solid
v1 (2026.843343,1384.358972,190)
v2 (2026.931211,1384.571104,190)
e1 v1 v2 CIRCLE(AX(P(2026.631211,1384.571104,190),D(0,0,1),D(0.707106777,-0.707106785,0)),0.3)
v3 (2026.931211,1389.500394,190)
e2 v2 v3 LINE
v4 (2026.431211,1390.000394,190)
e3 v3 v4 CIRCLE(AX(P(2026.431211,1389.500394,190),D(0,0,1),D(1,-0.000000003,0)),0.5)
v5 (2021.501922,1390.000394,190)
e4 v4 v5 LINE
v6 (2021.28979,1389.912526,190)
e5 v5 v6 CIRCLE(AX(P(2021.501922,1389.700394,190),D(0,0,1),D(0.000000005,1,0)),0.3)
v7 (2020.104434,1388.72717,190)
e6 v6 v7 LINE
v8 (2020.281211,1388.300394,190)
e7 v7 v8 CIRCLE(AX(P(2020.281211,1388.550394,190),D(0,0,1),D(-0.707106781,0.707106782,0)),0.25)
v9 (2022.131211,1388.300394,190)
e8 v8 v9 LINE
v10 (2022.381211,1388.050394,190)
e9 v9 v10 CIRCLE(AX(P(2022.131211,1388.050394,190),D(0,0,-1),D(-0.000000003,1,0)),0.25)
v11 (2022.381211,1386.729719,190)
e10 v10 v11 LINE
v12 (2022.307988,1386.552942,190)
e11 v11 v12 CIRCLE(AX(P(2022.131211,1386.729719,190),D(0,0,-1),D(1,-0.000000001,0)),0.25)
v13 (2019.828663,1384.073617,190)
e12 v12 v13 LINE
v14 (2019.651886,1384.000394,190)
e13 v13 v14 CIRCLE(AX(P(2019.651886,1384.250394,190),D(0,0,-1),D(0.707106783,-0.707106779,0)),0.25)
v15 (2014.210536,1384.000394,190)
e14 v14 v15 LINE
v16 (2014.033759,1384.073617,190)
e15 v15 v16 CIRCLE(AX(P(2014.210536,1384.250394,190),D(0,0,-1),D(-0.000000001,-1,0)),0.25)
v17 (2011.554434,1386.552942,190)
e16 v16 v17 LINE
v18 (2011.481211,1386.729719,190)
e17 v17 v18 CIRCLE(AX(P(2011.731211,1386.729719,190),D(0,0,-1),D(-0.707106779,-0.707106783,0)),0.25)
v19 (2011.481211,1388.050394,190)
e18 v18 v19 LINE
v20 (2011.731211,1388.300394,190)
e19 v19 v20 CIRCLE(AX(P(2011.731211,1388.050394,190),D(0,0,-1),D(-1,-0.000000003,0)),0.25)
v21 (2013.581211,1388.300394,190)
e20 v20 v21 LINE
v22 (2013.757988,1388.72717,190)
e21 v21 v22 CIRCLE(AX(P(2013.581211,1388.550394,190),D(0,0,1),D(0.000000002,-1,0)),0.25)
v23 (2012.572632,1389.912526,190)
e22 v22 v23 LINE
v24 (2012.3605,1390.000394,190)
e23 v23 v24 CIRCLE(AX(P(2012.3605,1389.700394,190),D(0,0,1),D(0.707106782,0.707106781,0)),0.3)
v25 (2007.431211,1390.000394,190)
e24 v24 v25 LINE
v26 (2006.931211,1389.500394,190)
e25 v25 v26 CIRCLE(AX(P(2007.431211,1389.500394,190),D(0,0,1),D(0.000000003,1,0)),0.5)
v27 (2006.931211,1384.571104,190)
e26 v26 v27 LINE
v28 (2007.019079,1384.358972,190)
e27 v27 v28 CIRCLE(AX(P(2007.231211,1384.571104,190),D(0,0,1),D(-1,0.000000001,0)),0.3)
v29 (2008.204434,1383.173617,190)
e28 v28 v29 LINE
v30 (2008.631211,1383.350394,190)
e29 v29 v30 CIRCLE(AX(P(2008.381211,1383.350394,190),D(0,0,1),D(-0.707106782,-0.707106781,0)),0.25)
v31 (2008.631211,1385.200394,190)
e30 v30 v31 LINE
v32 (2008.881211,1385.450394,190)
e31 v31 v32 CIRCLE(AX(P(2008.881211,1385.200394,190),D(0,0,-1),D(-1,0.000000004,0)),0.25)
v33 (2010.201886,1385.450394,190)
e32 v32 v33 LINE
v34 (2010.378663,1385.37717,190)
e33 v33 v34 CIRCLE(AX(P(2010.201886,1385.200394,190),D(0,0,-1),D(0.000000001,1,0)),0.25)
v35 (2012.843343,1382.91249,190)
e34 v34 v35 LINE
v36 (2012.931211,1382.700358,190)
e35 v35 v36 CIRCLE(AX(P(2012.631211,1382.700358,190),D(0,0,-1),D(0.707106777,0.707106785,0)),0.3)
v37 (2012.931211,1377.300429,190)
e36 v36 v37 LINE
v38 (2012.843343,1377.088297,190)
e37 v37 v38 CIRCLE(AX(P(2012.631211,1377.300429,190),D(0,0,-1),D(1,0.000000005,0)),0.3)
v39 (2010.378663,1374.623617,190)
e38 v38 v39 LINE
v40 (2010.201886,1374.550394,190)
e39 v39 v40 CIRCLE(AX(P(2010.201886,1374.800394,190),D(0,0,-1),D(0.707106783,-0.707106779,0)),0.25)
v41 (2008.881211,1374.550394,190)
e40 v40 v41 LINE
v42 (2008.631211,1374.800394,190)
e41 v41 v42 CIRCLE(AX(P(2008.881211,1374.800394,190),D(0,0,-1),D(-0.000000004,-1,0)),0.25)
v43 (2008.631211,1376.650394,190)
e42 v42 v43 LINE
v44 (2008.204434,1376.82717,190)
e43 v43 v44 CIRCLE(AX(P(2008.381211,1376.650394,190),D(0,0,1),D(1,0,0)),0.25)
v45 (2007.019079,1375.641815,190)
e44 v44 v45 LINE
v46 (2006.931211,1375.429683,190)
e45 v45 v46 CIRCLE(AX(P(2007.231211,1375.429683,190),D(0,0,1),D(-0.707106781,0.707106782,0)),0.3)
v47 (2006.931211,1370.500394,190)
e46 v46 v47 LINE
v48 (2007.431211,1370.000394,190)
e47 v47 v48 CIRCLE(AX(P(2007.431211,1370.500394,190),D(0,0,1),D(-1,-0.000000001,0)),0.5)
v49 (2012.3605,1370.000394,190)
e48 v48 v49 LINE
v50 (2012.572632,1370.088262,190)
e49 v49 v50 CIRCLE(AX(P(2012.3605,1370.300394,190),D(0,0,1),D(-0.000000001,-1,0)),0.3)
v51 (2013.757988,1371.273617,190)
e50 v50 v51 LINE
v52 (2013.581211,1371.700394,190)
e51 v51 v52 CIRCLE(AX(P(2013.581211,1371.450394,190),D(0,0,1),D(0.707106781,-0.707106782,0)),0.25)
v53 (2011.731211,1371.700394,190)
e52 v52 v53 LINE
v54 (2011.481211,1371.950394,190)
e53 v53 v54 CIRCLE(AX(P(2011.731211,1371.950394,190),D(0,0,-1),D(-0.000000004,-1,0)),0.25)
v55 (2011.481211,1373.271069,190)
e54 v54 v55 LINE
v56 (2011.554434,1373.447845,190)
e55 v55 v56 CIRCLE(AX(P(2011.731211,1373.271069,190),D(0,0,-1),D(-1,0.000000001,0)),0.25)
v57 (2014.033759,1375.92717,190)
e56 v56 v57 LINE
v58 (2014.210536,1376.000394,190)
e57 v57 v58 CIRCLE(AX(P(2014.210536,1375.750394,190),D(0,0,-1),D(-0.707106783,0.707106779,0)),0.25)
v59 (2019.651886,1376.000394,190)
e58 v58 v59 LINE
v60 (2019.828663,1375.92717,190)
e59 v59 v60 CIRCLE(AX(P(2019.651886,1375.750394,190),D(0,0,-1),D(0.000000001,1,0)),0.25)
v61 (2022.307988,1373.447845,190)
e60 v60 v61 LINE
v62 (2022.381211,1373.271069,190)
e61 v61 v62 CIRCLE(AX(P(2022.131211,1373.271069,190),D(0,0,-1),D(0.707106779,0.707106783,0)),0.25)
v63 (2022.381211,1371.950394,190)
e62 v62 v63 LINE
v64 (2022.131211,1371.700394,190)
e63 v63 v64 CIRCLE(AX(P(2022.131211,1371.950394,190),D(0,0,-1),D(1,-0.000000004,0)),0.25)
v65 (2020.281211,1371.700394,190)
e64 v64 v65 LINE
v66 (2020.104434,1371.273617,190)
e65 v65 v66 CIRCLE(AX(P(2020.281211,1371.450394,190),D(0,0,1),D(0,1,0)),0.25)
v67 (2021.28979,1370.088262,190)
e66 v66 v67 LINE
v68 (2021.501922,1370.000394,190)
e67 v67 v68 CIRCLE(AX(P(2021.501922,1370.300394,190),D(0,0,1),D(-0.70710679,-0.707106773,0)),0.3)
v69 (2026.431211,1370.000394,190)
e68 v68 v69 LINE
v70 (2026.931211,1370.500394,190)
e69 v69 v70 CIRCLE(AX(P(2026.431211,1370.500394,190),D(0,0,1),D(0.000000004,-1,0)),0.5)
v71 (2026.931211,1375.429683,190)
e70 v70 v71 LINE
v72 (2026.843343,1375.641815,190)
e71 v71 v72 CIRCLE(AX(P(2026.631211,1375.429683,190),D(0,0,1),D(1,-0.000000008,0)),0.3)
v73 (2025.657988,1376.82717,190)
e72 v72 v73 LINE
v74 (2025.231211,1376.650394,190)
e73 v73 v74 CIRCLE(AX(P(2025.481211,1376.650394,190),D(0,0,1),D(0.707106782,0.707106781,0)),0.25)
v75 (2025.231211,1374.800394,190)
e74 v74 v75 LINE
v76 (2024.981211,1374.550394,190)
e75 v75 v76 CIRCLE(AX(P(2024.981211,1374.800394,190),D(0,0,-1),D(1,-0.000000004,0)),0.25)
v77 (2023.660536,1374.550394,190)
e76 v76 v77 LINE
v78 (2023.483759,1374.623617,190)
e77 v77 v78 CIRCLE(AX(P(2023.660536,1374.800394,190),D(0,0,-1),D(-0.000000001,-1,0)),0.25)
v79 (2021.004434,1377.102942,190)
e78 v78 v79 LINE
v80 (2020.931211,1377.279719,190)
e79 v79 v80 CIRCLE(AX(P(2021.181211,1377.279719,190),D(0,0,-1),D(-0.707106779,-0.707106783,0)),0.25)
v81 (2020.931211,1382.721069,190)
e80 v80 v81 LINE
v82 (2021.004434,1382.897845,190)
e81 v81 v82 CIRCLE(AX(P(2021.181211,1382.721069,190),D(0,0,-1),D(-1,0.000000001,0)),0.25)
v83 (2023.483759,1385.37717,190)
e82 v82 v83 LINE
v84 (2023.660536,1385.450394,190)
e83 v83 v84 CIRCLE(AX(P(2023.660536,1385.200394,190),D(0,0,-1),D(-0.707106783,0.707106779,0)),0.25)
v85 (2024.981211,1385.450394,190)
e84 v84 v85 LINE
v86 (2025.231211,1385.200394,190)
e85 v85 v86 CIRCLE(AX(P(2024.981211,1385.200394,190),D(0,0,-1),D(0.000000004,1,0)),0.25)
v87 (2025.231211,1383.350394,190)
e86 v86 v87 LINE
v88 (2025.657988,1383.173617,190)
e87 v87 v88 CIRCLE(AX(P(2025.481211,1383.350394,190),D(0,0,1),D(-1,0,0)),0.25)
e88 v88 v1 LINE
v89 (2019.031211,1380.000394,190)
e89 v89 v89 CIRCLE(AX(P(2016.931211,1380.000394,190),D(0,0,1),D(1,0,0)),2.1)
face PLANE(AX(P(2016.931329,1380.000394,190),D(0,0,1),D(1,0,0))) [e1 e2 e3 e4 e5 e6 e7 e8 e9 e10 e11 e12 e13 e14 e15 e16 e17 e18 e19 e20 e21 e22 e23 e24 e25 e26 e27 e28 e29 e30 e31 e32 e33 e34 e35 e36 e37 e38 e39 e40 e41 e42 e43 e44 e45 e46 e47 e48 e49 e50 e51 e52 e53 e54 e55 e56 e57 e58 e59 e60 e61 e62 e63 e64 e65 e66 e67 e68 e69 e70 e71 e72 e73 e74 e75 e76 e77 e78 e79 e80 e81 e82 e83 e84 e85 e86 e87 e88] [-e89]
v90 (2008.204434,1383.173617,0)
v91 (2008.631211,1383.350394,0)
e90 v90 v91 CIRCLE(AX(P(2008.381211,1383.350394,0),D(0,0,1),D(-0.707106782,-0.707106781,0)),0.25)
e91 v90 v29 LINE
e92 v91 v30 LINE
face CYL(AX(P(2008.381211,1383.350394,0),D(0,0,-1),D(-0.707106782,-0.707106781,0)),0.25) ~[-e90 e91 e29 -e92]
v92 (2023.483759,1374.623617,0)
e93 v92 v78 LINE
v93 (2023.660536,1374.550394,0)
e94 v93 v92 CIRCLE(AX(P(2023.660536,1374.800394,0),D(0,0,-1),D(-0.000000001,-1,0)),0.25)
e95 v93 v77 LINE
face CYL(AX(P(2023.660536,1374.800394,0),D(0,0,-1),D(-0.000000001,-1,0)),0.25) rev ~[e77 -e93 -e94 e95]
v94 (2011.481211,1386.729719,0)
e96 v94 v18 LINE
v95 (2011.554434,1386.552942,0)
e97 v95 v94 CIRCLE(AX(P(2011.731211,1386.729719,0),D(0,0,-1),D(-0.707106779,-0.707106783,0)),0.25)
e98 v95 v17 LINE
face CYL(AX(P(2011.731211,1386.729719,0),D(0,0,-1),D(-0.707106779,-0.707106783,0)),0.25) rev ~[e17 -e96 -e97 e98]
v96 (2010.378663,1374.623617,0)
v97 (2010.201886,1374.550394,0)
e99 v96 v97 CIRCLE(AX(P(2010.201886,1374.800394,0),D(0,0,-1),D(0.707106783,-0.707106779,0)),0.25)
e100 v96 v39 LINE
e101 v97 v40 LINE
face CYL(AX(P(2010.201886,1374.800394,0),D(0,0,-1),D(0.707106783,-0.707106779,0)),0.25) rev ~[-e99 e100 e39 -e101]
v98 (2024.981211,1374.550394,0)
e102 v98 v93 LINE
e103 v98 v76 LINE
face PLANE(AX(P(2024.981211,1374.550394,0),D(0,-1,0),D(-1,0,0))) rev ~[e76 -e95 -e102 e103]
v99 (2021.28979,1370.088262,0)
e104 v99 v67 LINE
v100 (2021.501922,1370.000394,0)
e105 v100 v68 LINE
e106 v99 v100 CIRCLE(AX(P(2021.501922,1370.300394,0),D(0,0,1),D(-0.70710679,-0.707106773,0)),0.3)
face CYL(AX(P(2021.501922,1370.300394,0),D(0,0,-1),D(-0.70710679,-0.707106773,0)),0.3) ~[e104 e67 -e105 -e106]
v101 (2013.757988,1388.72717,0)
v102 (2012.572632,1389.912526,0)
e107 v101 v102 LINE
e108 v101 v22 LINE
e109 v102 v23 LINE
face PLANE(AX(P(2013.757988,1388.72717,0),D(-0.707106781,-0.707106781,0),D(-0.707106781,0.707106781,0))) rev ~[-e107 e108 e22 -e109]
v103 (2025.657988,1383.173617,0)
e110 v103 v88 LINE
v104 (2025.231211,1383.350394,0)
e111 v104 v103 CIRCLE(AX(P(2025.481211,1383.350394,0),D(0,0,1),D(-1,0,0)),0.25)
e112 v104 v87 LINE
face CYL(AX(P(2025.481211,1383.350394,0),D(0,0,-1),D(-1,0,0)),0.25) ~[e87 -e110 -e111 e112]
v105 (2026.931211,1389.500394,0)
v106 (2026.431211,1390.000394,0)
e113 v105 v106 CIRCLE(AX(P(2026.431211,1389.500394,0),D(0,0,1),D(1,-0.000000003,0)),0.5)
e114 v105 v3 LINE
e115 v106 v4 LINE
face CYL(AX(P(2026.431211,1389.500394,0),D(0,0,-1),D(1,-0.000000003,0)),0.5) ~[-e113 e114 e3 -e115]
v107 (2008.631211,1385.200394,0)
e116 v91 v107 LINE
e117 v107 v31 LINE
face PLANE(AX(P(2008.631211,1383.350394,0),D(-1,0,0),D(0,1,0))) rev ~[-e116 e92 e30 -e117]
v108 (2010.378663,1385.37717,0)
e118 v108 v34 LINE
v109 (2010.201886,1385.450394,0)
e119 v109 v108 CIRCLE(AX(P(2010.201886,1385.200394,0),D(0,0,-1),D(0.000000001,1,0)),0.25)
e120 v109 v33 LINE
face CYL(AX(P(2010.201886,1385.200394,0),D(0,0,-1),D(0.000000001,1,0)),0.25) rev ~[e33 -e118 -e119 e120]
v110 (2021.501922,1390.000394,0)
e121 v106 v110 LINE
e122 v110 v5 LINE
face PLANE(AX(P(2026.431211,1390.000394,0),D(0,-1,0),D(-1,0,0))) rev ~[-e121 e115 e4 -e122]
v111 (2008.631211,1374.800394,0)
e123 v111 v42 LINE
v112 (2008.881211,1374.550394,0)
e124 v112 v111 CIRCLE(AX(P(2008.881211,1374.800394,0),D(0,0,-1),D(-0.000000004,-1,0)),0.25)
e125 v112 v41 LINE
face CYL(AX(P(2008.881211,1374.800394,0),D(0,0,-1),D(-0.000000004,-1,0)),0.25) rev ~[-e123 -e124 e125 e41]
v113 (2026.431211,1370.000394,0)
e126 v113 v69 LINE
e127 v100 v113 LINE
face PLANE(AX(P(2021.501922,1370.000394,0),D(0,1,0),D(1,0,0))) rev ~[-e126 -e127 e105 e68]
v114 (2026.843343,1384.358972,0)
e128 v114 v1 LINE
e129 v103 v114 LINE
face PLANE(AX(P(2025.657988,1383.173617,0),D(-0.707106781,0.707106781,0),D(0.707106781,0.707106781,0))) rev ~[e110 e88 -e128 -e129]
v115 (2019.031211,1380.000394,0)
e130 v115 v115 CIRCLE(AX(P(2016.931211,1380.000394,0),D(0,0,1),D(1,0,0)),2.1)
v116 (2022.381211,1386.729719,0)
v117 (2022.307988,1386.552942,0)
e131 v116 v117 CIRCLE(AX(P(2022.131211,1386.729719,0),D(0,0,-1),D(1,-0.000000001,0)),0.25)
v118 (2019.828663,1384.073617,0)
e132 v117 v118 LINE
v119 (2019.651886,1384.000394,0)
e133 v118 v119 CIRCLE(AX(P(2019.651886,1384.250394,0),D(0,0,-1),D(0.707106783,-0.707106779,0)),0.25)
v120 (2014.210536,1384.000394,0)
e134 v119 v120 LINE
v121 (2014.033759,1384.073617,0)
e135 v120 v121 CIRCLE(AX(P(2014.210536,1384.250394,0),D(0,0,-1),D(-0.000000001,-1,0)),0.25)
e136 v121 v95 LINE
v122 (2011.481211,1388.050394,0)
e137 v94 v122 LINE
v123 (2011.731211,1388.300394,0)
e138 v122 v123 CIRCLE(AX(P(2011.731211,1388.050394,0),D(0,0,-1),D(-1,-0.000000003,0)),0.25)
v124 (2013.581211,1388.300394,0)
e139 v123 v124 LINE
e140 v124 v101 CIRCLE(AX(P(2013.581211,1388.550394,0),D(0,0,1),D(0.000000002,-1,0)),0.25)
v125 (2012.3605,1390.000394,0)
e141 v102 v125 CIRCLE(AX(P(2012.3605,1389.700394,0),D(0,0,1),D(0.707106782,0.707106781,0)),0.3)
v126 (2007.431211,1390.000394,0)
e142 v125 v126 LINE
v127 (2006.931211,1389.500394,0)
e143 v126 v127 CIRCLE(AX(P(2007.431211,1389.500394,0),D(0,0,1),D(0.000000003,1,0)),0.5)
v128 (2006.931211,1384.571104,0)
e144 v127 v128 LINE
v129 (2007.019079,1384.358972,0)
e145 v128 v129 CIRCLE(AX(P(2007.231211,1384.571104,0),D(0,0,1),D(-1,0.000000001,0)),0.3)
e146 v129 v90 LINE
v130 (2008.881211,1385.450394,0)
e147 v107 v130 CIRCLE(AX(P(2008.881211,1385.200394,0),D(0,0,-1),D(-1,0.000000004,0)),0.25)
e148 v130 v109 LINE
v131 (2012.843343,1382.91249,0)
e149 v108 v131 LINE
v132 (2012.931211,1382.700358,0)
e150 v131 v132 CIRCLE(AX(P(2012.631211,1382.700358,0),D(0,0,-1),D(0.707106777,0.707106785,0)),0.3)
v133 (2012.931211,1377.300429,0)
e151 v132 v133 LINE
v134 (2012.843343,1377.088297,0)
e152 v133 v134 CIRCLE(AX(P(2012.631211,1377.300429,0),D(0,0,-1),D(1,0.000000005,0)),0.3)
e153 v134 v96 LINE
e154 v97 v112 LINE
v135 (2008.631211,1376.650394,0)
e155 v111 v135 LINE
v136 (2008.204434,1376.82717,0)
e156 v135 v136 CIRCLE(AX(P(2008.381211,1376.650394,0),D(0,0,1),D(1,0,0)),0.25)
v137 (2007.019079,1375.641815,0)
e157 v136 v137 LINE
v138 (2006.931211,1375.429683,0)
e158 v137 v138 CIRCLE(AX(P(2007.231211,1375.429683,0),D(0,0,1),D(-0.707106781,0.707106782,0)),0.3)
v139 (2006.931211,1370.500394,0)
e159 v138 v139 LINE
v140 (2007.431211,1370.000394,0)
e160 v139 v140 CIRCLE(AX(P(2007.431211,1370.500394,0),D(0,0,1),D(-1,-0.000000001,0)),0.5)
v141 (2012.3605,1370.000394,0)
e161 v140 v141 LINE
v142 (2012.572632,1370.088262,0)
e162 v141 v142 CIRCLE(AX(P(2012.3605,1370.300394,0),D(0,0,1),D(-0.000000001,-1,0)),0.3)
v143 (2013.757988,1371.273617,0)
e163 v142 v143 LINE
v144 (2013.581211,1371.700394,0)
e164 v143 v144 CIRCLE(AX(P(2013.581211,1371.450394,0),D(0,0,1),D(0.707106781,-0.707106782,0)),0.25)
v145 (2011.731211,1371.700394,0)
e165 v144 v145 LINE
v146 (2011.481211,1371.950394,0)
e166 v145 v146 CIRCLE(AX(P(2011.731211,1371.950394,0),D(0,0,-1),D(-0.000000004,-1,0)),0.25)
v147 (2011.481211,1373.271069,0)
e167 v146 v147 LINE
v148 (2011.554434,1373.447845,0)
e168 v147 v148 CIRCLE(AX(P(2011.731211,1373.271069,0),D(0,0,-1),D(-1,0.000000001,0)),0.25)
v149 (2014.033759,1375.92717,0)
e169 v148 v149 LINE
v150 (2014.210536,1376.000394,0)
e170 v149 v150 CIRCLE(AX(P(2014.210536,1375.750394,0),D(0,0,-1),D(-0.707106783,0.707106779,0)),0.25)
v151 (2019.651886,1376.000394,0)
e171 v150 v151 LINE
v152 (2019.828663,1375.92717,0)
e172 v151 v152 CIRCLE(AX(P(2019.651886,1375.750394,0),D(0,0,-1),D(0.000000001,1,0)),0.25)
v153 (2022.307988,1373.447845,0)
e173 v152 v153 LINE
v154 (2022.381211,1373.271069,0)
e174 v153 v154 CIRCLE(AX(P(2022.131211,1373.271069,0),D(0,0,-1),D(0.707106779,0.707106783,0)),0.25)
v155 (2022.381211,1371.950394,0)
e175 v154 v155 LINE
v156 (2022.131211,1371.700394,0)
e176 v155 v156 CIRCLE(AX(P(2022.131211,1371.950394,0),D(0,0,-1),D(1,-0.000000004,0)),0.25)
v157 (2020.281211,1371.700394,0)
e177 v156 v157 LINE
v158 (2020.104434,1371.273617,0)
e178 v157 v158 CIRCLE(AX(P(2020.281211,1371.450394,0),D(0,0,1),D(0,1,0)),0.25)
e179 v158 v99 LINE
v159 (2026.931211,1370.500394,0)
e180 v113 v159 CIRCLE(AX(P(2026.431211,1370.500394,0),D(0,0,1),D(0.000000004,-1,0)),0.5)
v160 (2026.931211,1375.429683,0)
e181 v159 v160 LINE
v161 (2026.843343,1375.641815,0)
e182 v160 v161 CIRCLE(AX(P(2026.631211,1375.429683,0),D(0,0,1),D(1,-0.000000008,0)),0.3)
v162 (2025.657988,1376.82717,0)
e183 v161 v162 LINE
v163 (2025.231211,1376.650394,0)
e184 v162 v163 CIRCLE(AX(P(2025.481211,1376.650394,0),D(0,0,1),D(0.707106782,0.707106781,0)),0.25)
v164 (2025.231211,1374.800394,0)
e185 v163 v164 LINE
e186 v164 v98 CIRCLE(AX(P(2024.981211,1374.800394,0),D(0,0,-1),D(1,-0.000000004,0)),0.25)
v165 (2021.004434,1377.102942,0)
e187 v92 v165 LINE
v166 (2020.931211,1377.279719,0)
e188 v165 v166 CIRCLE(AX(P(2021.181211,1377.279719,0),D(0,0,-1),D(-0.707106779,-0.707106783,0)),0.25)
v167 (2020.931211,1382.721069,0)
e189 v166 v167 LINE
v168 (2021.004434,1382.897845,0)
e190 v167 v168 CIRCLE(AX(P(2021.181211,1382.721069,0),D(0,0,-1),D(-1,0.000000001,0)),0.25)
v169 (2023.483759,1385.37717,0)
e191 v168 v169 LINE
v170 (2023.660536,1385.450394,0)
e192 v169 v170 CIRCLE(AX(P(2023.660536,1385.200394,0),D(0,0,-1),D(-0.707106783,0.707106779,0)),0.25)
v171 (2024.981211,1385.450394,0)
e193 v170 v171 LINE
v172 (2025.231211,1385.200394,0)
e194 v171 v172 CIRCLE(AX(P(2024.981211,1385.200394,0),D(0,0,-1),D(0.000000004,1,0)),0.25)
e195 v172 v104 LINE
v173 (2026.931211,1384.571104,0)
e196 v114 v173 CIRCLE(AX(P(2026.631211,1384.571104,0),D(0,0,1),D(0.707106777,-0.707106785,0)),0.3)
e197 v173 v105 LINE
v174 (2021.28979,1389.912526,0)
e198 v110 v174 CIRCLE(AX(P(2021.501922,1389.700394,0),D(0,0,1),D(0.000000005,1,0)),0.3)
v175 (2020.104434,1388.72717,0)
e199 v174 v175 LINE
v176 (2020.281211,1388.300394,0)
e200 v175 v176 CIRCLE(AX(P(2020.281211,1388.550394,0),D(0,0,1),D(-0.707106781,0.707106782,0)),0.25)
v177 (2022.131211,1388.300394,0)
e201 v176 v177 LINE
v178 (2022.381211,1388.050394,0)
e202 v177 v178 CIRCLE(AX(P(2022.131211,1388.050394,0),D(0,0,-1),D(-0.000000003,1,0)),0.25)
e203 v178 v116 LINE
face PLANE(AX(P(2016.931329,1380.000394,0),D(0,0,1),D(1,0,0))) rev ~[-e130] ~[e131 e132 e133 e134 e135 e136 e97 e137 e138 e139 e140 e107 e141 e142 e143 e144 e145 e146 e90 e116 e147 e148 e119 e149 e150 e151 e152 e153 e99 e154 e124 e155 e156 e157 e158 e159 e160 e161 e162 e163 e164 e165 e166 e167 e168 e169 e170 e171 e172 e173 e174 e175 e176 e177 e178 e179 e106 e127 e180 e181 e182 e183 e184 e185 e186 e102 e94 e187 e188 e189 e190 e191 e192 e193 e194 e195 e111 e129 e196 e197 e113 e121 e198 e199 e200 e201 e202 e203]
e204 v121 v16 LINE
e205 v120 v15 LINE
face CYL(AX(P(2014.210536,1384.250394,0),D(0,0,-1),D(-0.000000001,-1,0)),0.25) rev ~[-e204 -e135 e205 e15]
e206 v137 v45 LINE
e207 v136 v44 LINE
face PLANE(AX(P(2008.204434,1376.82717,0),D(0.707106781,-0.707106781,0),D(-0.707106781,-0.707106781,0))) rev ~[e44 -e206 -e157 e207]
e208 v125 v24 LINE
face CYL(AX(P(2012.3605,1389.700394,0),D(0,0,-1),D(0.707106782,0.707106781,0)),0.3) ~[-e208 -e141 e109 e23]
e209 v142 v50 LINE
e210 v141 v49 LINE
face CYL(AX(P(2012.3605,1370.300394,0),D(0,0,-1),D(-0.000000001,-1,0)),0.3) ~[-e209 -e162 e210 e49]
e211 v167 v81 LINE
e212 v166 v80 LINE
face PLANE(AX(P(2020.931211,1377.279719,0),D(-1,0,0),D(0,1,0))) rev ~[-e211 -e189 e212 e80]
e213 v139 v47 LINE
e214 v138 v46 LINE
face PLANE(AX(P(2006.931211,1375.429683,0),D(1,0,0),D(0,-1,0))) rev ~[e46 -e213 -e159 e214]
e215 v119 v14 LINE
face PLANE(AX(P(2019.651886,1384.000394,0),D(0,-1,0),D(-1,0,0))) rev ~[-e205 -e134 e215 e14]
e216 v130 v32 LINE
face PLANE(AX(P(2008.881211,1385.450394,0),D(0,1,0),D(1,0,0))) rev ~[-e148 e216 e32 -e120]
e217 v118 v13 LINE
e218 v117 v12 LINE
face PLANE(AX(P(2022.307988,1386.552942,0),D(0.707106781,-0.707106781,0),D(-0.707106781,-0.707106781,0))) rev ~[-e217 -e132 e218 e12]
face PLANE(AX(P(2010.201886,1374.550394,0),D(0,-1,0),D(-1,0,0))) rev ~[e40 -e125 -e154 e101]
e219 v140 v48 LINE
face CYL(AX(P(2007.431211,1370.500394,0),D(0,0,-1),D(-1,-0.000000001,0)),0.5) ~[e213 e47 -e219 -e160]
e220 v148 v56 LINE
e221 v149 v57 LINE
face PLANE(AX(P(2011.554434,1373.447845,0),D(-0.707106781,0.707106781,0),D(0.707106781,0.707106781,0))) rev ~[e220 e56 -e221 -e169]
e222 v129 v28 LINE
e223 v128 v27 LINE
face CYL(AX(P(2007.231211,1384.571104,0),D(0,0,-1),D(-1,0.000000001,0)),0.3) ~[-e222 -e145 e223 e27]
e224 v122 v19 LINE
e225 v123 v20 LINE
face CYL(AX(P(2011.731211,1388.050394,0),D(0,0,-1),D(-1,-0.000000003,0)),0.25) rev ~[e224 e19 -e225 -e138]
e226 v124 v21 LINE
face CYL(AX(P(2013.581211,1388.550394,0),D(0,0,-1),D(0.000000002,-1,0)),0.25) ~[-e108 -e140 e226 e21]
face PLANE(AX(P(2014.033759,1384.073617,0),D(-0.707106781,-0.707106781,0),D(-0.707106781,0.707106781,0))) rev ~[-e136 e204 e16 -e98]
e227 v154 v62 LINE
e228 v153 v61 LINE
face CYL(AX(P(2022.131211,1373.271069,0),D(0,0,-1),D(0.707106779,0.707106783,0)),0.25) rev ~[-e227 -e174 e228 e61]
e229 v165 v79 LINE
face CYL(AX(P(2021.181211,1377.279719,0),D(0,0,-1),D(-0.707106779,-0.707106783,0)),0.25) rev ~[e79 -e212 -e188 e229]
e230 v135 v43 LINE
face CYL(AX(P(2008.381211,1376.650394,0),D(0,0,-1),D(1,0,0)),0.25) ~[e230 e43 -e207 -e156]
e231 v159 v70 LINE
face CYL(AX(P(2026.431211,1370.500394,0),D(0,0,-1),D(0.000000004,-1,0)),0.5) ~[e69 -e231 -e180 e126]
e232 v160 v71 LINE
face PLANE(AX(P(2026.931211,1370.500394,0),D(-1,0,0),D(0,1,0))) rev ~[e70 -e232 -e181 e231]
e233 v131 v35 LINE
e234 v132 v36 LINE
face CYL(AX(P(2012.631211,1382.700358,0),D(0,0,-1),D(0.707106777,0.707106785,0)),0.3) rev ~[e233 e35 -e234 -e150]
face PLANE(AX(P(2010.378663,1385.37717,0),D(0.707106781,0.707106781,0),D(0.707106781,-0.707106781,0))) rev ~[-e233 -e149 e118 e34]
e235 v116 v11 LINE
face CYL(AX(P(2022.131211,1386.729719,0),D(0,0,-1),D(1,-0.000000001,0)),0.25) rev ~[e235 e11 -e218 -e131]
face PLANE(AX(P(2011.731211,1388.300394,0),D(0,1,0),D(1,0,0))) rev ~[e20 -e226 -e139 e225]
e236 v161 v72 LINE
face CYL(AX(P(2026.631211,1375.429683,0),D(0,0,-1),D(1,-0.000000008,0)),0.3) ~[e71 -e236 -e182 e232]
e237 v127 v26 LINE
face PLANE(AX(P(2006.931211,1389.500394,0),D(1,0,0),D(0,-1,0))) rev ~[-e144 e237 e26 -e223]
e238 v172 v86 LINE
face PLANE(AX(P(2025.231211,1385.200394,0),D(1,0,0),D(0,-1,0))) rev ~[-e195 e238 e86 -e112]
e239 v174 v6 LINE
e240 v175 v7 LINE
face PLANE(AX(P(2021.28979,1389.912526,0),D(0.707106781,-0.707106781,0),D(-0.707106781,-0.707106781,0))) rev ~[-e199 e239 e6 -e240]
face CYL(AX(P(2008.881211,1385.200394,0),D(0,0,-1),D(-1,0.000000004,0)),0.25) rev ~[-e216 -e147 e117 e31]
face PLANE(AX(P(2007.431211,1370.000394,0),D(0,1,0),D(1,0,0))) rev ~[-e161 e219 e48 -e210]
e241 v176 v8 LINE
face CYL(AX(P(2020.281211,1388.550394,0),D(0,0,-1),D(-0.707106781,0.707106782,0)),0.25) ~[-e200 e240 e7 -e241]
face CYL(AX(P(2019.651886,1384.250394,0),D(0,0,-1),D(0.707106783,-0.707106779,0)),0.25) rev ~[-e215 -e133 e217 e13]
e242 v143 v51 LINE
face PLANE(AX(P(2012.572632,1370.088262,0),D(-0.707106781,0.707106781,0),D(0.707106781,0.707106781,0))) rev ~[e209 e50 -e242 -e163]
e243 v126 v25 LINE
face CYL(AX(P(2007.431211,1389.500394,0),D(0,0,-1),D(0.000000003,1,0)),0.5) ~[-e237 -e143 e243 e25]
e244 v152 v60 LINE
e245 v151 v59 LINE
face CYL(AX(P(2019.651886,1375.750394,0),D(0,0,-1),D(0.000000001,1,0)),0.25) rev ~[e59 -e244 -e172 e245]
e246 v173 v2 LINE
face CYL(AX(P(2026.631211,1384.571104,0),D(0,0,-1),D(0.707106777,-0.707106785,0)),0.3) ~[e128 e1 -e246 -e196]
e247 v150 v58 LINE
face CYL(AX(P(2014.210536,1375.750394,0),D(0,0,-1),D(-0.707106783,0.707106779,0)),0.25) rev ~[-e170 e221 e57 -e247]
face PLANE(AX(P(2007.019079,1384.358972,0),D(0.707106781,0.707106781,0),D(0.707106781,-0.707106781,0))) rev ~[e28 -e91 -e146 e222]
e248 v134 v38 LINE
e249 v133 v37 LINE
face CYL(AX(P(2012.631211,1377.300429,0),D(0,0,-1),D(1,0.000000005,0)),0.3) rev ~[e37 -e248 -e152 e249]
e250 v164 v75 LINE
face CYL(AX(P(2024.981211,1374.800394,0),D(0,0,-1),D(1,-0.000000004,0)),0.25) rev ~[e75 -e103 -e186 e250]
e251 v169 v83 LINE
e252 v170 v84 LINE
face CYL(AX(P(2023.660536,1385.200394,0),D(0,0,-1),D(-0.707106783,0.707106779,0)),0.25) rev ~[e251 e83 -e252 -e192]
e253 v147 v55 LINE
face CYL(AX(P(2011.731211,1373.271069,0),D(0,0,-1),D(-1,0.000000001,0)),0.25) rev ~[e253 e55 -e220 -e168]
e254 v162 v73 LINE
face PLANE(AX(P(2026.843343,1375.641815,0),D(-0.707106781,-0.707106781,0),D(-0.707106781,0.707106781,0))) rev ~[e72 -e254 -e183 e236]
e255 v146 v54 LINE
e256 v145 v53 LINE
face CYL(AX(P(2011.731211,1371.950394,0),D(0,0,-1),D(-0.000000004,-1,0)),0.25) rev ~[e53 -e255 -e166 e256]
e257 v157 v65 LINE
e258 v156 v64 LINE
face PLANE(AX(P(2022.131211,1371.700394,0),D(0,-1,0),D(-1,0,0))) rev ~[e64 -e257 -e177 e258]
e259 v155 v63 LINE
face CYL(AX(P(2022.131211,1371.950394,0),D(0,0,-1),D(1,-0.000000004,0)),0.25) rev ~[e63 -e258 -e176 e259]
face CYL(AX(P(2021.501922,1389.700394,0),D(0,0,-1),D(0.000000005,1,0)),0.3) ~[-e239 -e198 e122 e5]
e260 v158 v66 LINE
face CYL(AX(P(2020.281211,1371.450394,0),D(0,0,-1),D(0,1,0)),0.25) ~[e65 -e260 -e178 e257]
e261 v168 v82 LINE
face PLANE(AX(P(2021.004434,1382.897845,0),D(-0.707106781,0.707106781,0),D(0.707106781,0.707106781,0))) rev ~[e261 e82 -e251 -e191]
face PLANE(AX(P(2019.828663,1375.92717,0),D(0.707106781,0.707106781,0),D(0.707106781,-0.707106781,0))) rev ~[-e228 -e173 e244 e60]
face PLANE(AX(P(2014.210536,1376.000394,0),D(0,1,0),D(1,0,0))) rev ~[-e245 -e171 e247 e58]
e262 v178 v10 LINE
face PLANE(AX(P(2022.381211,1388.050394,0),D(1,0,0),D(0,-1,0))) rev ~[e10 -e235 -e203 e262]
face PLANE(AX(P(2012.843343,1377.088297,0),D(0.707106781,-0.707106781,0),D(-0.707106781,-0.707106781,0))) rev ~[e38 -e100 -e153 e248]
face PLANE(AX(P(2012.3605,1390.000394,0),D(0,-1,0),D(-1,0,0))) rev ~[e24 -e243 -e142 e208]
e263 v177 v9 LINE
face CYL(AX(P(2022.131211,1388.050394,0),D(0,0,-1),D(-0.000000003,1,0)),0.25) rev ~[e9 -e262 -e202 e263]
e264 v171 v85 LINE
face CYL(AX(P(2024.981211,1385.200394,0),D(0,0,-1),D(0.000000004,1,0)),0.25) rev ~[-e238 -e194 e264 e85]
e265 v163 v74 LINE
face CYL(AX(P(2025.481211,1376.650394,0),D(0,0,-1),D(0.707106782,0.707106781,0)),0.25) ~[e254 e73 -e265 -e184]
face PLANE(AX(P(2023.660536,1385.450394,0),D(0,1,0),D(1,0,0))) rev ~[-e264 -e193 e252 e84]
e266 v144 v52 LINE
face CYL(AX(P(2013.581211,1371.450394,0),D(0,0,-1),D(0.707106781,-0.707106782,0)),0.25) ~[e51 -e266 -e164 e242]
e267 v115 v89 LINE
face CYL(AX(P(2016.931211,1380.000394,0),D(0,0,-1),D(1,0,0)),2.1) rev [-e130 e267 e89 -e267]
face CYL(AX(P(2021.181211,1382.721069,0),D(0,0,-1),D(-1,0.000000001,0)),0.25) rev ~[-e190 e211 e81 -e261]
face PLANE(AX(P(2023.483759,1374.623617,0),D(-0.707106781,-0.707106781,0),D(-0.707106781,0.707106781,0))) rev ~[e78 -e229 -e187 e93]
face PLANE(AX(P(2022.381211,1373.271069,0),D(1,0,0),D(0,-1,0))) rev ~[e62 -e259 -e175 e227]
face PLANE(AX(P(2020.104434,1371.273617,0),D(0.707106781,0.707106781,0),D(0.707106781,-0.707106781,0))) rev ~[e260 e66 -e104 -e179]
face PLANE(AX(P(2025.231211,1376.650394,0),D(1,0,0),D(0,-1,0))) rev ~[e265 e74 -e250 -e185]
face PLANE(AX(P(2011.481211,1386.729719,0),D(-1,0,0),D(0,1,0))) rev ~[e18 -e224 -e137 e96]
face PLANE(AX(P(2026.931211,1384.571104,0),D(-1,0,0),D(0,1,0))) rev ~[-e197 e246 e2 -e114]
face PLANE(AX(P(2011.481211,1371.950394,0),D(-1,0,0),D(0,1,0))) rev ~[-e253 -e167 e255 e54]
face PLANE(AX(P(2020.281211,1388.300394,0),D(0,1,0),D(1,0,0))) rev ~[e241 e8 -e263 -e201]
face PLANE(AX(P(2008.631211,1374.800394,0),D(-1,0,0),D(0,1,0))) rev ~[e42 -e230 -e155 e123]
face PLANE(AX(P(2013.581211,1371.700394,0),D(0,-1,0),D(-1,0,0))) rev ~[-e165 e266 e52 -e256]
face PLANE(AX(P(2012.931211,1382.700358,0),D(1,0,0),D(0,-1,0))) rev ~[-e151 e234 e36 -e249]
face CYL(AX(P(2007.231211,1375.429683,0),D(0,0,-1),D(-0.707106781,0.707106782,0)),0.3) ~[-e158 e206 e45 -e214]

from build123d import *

# Parameters (mm, degrees)
MODEL_R             = 2.1
BOSS_EXTRUDE1_DEPTH = 190


with BuildPart() as part:
    # Model → Boss-Extrude1 (new body)
    with BuildSketch(Plane.XY):
        with BuildLine():
            Line((2012.931211125, 1381.800393717), (2012.931211125, 1378.200393717))
            Line((2012.931211125, 1378.200393717), (2012.931211125, 1377.300429431))
            ThreePointArc((2012.931211125, 1377.300429431), (2012.908374985, 1377.185624401), (2012.843343159, 1377.088297396))
            Line((2012.843343159, 1377.088297396), (2010.378662785, 1374.623617022))
            ThreePointArc((2010.378662785, 1374.623617022), (2010.297556948, 1374.569423834), (2010.20188609, 1374.550393717))
            Line((2010.20188609, 1374.550393717), (2008.881211125, 1374.550393717))
            ThreePointArc((2008.881211125, 1374.550393717), (2008.70443443, 1374.623617022), (2008.631211125, 1374.800393717))
            Line((2008.631211125, 1374.800393717), (2008.631211125, 1376.650393717))
            ThreePointArc((2008.631211125, 1376.650393717), (2008.476881983, 1376.8813636), (2008.20443443, 1376.827170412))
            Line((2008.20443443, 1376.827170412), (2007.01907909, 1375.641815073))
            ThreePointArc((2007.01907909, 1375.641815073), (2006.954047265, 1375.544488069), (2006.931211125, 1375.429683039))
            Line((2006.931211125, 1375.429683039), (2006.931211125, 1370.500393717))
            ThreePointArc((2006.931211125, 1370.500393717), (2007.077657734, 1370.146840327), (2007.431211125, 1370.000393717))
            Line((2007.431211125, 1370.000393717), (2012.360500447, 1370.000393717))
            ThreePointArc((2012.360500447, 1370.000393717), (2012.475305476, 1370.023229857), (2012.572632481, 1370.088261683))
            Line((2012.572632481, 1370.088261683), (2013.75798782, 1371.273617022))
            ThreePointArc((2013.75798782, 1371.273617022), (2013.812181008, 1371.546064575), (2013.581211125, 1371.700393717))
            Line((2013.581211125, 1371.700393717), (2011.731211125, 1371.700393717))
            ThreePointArc((2011.731211125, 1371.700393717), (2011.55443443, 1371.773617022), (2011.481211125, 1371.950393717))
            Line((2011.481211125, 1371.950393717), (2011.481211125, 1373.271068682))
            ThreePointArc((2011.481211125, 1373.271068682), (2011.500241242, 1373.36673954), (2011.55443443, 1373.447845377))
            Line((2011.55443443, 1373.447845377), (2014.033759465, 1375.927170412))
            ThreePointArc((2014.033759465, 1375.927170412), (2014.114865302, 1375.9813636), (2014.21053616, 1376.000393717))
            Line((2014.21053616, 1376.000393717), (2016.470233902, 1376.000393717))
            Line((2016.470233902, 1376.000393717), (2017.392188348, 1376.000393717))
            Line((2017.392188348, 1376.000393717), (2019.65188609, 1376.000393717))
            ThreePointArc((2019.65188609, 1376.000393717), (2019.747556948, 1375.9813636), (2019.828662785, 1375.927170412))
            Line((2019.828662785, 1375.927170412), (2022.30798782, 1373.447845377))
            ThreePointArc((2022.30798782, 1373.447845377), (2022.362181008, 1373.36673954), (2022.381211125, 1373.271068682))
            Line((2022.381211125, 1373.271068682), (2022.381211125, 1371.950393717))
            ThreePointArc((2022.381211125, 1371.950393717), (2022.30798782, 1371.773617022), (2022.131211125, 1371.700393717))
            Line((2022.131211125, 1371.700393717), (2020.281211125, 1371.700393717))
            ThreePointArc((2020.281211125, 1371.700393717), (2020.050241242, 1371.546064575), (2020.10443443, 1371.273617022))
            Line((2020.10443443, 1371.273617022), (2021.289789769, 1370.088261683))
            ThreePointArc((2021.289789769, 1370.088261683), (2021.387116773, 1370.023229857), (2021.501921803, 1370.000393717))
            Line((2021.501921803, 1370.000393717), (2026.431211125, 1370.000393717))
            ThreePointArc((2026.431211125, 1370.000393717), (2026.784764515, 1370.146840327), (2026.931211125, 1370.500393717))
            Line((2026.931211125, 1370.500393717), (2026.931211125, 1375.429683039))
            ThreePointArc((2026.931211125, 1375.429683039), (2026.908374985, 1375.544488069), (2026.843343159, 1375.641815073))
            Line((2026.843343159, 1375.641815073), (2025.65798782, 1376.827170412))
            ThreePointArc((2025.65798782, 1376.827170412), (2025.385540267, 1376.8813636), (2025.231211125, 1376.650393717))
            Line((2025.231211125, 1376.650393717), (2025.231211125, 1374.800393717))
            ThreePointArc((2025.231211125, 1374.800393717), (2025.15798782, 1374.623617022), (2024.981211125, 1374.550393717))
            Line((2024.981211125, 1374.550393717), (2023.66053616, 1374.550393717))
            ThreePointArc((2023.66053616, 1374.550393717), (2023.564865302, 1374.569423834), (2023.483759465, 1374.623617022))
            Line((2023.483759465, 1374.623617022), (2021.00443443, 1377.102942057))
            ThreePointArc((2021.00443443, 1377.102942057), (2020.950241242, 1377.184047894), (2020.931211125, 1377.279718752))
            Line((2020.931211125, 1377.279718752), (2020.931211125, 1379.539416494))
            Line((2020.931211125, 1379.539416494), (2020.931211125, 1380.46137094))
            Line((2020.931211125, 1380.46137094), (2020.931211125, 1382.721068682))
            ThreePointArc((2020.931211125, 1382.721068682), (2020.950241242, 1382.81673954), (2021.00443443, 1382.897845377))
            Line((2021.00443443, 1382.897845377), (2023.483759465, 1385.377170412))
            ThreePointArc((2023.483759465, 1385.377170412), (2023.564865302, 1385.4313636), (2023.66053616, 1385.450393717))
            Line((2023.66053616, 1385.450393717), (2024.981211125, 1385.450393717))
            ThreePointArc((2024.981211125, 1385.450393717), (2025.15798782, 1385.377170412), (2025.231211125, 1385.200393717))
            Line((2025.231211125, 1385.200393717), (2025.231211125, 1383.350393717))
            ThreePointArc((2025.231211125, 1383.350393717), (2025.385540267, 1383.119423834), (2025.65798782, 1383.173617022))
            Line((2025.65798782, 1383.173617022), (2026.843343159, 1384.358972361))
            ThreePointArc((2026.843343159, 1384.358972361), (2026.908374985, 1384.456299366), (2026.931211125, 1384.571104395))
            Line((2026.931211125, 1384.571104395), (2026.931211125, 1389.500393717))
            ThreePointArc((2026.931211125, 1389.500393717), (2026.784764516, 1389.853947108), (2026.431211125, 1390.000393717))
            Line((2026.431211125, 1390.000393717), (2021.501921803, 1390.000393717))
            ThreePointArc((2021.501921803, 1390.000393717), (2021.387116773, 1389.977557577), (2021.289789769, 1389.912525752))
            Line((2021.289789769, 1389.912525752), (2020.10443443, 1388.727170413))
            ThreePointArc((2020.10443443, 1388.727170413), (2020.050241242, 1388.454722859), (2020.281211125, 1388.300393717))
            Line((2020.281211125, 1388.300393717), (2022.131211125, 1388.300393717))
            ThreePointArc((2022.131211125, 1388.300393717), (2022.30798782, 1388.227170413), (2022.381211125, 1388.050393717))
            Line((2022.381211125, 1388.050393717), (2022.381211125, 1386.729718752))
            ThreePointArc((2022.381211125, 1386.729718752), (2022.362181008, 1386.634047894), (2022.30798782, 1386.552942057))
            Line((2022.30798782, 1386.552942057), (2019.828662785, 1384.073617022))
            ThreePointArc((2019.828662785, 1384.073617022), (2019.747556948, 1384.019423834), (2019.65188609, 1384.000393717))
            Line((2019.65188609, 1384.000393717), (2017.392188348, 1384.000393717))
            Line((2017.392188348, 1384.000393717), (2016.470233902, 1384.000393717))
            Line((2016.470233902, 1384.000393717), (2014.21053616, 1384.000393717))
            ThreePointArc((2014.21053616, 1384.000393717), (2014.114865302, 1384.019423834), (2014.033759465, 1384.073617022))
            Line((2014.033759465, 1384.073617022), (2011.55443443, 1386.552942057))
            ThreePointArc((2011.55443443, 1386.552942057), (2011.500241242, 1386.634047894), (2011.481211125, 1386.729718752))
            Line((2011.481211125, 1386.729718752), (2011.481211125, 1388.050393717))
            ThreePointArc((2011.481211125, 1388.050393717), (2011.55443443, 1388.227170413), (2011.731211125, 1388.300393717))
            Line((2011.731211125, 1388.300393717), (2013.581211125, 1388.300393717))
            ThreePointArc((2013.581211125, 1388.300393717), (2013.812181008, 1388.454722859), (2013.75798782, 1388.727170413))
            Line((2013.75798782, 1388.727170413), (2012.572632481, 1389.912525752))
            ThreePointArc((2012.572632481, 1389.912525752), (2012.475305477, 1389.977557577), (2012.360500447, 1390.000393717))
            Line((2012.360500447, 1390.000393717), (2007.431211125, 1390.000393717))
            ThreePointArc((2007.431211125, 1390.000393717), (2007.077657734, 1389.853947108), (2006.931211125, 1389.500393717))
            Line((2006.931211125, 1389.500393717), (2006.931211125, 1384.571104395))
            ThreePointArc((2006.931211125, 1384.571104395), (2006.954047265, 1384.456299366), (2007.019079091, 1384.358972361))
            Line((2007.019079091, 1384.358972361), (2008.20443443, 1383.173617022))
            ThreePointArc((2008.20443443, 1383.173617022), (2008.476881983, 1383.119423834), (2008.631211125, 1383.350393717))
            Line((2008.631211125, 1383.350393717), (2008.631211125, 1385.200393717))
            ThreePointArc((2008.631211125, 1385.200393717), (2008.70443443, 1385.377170412), (2008.881211125, 1385.450393717))
            Line((2008.881211125, 1385.450393717), (2010.20188609, 1385.450393717))
            ThreePointArc((2010.20188609, 1385.450393717), (2010.297556948, 1385.4313636), (2010.378662785, 1385.377170412))
            Line((2010.378662785, 1385.377170412), (2012.843343159, 1382.912490038))
            ThreePointArc((2012.843343159, 1382.912490038), (2012.908374985, 1382.815163033), (2012.931211125, 1382.700358004))
            Line((2012.931211125, 1382.700358004), (2012.931211125, 1381.800393717))
        make_face()
        with Locations((2016.931211125, 1380.000393717)):
            Circle(MODEL_R, mode=Mode.SUBTRACT)
    extrude(amount=BOSS_EXTRUDE1_DEPTH)


solid = part.part
